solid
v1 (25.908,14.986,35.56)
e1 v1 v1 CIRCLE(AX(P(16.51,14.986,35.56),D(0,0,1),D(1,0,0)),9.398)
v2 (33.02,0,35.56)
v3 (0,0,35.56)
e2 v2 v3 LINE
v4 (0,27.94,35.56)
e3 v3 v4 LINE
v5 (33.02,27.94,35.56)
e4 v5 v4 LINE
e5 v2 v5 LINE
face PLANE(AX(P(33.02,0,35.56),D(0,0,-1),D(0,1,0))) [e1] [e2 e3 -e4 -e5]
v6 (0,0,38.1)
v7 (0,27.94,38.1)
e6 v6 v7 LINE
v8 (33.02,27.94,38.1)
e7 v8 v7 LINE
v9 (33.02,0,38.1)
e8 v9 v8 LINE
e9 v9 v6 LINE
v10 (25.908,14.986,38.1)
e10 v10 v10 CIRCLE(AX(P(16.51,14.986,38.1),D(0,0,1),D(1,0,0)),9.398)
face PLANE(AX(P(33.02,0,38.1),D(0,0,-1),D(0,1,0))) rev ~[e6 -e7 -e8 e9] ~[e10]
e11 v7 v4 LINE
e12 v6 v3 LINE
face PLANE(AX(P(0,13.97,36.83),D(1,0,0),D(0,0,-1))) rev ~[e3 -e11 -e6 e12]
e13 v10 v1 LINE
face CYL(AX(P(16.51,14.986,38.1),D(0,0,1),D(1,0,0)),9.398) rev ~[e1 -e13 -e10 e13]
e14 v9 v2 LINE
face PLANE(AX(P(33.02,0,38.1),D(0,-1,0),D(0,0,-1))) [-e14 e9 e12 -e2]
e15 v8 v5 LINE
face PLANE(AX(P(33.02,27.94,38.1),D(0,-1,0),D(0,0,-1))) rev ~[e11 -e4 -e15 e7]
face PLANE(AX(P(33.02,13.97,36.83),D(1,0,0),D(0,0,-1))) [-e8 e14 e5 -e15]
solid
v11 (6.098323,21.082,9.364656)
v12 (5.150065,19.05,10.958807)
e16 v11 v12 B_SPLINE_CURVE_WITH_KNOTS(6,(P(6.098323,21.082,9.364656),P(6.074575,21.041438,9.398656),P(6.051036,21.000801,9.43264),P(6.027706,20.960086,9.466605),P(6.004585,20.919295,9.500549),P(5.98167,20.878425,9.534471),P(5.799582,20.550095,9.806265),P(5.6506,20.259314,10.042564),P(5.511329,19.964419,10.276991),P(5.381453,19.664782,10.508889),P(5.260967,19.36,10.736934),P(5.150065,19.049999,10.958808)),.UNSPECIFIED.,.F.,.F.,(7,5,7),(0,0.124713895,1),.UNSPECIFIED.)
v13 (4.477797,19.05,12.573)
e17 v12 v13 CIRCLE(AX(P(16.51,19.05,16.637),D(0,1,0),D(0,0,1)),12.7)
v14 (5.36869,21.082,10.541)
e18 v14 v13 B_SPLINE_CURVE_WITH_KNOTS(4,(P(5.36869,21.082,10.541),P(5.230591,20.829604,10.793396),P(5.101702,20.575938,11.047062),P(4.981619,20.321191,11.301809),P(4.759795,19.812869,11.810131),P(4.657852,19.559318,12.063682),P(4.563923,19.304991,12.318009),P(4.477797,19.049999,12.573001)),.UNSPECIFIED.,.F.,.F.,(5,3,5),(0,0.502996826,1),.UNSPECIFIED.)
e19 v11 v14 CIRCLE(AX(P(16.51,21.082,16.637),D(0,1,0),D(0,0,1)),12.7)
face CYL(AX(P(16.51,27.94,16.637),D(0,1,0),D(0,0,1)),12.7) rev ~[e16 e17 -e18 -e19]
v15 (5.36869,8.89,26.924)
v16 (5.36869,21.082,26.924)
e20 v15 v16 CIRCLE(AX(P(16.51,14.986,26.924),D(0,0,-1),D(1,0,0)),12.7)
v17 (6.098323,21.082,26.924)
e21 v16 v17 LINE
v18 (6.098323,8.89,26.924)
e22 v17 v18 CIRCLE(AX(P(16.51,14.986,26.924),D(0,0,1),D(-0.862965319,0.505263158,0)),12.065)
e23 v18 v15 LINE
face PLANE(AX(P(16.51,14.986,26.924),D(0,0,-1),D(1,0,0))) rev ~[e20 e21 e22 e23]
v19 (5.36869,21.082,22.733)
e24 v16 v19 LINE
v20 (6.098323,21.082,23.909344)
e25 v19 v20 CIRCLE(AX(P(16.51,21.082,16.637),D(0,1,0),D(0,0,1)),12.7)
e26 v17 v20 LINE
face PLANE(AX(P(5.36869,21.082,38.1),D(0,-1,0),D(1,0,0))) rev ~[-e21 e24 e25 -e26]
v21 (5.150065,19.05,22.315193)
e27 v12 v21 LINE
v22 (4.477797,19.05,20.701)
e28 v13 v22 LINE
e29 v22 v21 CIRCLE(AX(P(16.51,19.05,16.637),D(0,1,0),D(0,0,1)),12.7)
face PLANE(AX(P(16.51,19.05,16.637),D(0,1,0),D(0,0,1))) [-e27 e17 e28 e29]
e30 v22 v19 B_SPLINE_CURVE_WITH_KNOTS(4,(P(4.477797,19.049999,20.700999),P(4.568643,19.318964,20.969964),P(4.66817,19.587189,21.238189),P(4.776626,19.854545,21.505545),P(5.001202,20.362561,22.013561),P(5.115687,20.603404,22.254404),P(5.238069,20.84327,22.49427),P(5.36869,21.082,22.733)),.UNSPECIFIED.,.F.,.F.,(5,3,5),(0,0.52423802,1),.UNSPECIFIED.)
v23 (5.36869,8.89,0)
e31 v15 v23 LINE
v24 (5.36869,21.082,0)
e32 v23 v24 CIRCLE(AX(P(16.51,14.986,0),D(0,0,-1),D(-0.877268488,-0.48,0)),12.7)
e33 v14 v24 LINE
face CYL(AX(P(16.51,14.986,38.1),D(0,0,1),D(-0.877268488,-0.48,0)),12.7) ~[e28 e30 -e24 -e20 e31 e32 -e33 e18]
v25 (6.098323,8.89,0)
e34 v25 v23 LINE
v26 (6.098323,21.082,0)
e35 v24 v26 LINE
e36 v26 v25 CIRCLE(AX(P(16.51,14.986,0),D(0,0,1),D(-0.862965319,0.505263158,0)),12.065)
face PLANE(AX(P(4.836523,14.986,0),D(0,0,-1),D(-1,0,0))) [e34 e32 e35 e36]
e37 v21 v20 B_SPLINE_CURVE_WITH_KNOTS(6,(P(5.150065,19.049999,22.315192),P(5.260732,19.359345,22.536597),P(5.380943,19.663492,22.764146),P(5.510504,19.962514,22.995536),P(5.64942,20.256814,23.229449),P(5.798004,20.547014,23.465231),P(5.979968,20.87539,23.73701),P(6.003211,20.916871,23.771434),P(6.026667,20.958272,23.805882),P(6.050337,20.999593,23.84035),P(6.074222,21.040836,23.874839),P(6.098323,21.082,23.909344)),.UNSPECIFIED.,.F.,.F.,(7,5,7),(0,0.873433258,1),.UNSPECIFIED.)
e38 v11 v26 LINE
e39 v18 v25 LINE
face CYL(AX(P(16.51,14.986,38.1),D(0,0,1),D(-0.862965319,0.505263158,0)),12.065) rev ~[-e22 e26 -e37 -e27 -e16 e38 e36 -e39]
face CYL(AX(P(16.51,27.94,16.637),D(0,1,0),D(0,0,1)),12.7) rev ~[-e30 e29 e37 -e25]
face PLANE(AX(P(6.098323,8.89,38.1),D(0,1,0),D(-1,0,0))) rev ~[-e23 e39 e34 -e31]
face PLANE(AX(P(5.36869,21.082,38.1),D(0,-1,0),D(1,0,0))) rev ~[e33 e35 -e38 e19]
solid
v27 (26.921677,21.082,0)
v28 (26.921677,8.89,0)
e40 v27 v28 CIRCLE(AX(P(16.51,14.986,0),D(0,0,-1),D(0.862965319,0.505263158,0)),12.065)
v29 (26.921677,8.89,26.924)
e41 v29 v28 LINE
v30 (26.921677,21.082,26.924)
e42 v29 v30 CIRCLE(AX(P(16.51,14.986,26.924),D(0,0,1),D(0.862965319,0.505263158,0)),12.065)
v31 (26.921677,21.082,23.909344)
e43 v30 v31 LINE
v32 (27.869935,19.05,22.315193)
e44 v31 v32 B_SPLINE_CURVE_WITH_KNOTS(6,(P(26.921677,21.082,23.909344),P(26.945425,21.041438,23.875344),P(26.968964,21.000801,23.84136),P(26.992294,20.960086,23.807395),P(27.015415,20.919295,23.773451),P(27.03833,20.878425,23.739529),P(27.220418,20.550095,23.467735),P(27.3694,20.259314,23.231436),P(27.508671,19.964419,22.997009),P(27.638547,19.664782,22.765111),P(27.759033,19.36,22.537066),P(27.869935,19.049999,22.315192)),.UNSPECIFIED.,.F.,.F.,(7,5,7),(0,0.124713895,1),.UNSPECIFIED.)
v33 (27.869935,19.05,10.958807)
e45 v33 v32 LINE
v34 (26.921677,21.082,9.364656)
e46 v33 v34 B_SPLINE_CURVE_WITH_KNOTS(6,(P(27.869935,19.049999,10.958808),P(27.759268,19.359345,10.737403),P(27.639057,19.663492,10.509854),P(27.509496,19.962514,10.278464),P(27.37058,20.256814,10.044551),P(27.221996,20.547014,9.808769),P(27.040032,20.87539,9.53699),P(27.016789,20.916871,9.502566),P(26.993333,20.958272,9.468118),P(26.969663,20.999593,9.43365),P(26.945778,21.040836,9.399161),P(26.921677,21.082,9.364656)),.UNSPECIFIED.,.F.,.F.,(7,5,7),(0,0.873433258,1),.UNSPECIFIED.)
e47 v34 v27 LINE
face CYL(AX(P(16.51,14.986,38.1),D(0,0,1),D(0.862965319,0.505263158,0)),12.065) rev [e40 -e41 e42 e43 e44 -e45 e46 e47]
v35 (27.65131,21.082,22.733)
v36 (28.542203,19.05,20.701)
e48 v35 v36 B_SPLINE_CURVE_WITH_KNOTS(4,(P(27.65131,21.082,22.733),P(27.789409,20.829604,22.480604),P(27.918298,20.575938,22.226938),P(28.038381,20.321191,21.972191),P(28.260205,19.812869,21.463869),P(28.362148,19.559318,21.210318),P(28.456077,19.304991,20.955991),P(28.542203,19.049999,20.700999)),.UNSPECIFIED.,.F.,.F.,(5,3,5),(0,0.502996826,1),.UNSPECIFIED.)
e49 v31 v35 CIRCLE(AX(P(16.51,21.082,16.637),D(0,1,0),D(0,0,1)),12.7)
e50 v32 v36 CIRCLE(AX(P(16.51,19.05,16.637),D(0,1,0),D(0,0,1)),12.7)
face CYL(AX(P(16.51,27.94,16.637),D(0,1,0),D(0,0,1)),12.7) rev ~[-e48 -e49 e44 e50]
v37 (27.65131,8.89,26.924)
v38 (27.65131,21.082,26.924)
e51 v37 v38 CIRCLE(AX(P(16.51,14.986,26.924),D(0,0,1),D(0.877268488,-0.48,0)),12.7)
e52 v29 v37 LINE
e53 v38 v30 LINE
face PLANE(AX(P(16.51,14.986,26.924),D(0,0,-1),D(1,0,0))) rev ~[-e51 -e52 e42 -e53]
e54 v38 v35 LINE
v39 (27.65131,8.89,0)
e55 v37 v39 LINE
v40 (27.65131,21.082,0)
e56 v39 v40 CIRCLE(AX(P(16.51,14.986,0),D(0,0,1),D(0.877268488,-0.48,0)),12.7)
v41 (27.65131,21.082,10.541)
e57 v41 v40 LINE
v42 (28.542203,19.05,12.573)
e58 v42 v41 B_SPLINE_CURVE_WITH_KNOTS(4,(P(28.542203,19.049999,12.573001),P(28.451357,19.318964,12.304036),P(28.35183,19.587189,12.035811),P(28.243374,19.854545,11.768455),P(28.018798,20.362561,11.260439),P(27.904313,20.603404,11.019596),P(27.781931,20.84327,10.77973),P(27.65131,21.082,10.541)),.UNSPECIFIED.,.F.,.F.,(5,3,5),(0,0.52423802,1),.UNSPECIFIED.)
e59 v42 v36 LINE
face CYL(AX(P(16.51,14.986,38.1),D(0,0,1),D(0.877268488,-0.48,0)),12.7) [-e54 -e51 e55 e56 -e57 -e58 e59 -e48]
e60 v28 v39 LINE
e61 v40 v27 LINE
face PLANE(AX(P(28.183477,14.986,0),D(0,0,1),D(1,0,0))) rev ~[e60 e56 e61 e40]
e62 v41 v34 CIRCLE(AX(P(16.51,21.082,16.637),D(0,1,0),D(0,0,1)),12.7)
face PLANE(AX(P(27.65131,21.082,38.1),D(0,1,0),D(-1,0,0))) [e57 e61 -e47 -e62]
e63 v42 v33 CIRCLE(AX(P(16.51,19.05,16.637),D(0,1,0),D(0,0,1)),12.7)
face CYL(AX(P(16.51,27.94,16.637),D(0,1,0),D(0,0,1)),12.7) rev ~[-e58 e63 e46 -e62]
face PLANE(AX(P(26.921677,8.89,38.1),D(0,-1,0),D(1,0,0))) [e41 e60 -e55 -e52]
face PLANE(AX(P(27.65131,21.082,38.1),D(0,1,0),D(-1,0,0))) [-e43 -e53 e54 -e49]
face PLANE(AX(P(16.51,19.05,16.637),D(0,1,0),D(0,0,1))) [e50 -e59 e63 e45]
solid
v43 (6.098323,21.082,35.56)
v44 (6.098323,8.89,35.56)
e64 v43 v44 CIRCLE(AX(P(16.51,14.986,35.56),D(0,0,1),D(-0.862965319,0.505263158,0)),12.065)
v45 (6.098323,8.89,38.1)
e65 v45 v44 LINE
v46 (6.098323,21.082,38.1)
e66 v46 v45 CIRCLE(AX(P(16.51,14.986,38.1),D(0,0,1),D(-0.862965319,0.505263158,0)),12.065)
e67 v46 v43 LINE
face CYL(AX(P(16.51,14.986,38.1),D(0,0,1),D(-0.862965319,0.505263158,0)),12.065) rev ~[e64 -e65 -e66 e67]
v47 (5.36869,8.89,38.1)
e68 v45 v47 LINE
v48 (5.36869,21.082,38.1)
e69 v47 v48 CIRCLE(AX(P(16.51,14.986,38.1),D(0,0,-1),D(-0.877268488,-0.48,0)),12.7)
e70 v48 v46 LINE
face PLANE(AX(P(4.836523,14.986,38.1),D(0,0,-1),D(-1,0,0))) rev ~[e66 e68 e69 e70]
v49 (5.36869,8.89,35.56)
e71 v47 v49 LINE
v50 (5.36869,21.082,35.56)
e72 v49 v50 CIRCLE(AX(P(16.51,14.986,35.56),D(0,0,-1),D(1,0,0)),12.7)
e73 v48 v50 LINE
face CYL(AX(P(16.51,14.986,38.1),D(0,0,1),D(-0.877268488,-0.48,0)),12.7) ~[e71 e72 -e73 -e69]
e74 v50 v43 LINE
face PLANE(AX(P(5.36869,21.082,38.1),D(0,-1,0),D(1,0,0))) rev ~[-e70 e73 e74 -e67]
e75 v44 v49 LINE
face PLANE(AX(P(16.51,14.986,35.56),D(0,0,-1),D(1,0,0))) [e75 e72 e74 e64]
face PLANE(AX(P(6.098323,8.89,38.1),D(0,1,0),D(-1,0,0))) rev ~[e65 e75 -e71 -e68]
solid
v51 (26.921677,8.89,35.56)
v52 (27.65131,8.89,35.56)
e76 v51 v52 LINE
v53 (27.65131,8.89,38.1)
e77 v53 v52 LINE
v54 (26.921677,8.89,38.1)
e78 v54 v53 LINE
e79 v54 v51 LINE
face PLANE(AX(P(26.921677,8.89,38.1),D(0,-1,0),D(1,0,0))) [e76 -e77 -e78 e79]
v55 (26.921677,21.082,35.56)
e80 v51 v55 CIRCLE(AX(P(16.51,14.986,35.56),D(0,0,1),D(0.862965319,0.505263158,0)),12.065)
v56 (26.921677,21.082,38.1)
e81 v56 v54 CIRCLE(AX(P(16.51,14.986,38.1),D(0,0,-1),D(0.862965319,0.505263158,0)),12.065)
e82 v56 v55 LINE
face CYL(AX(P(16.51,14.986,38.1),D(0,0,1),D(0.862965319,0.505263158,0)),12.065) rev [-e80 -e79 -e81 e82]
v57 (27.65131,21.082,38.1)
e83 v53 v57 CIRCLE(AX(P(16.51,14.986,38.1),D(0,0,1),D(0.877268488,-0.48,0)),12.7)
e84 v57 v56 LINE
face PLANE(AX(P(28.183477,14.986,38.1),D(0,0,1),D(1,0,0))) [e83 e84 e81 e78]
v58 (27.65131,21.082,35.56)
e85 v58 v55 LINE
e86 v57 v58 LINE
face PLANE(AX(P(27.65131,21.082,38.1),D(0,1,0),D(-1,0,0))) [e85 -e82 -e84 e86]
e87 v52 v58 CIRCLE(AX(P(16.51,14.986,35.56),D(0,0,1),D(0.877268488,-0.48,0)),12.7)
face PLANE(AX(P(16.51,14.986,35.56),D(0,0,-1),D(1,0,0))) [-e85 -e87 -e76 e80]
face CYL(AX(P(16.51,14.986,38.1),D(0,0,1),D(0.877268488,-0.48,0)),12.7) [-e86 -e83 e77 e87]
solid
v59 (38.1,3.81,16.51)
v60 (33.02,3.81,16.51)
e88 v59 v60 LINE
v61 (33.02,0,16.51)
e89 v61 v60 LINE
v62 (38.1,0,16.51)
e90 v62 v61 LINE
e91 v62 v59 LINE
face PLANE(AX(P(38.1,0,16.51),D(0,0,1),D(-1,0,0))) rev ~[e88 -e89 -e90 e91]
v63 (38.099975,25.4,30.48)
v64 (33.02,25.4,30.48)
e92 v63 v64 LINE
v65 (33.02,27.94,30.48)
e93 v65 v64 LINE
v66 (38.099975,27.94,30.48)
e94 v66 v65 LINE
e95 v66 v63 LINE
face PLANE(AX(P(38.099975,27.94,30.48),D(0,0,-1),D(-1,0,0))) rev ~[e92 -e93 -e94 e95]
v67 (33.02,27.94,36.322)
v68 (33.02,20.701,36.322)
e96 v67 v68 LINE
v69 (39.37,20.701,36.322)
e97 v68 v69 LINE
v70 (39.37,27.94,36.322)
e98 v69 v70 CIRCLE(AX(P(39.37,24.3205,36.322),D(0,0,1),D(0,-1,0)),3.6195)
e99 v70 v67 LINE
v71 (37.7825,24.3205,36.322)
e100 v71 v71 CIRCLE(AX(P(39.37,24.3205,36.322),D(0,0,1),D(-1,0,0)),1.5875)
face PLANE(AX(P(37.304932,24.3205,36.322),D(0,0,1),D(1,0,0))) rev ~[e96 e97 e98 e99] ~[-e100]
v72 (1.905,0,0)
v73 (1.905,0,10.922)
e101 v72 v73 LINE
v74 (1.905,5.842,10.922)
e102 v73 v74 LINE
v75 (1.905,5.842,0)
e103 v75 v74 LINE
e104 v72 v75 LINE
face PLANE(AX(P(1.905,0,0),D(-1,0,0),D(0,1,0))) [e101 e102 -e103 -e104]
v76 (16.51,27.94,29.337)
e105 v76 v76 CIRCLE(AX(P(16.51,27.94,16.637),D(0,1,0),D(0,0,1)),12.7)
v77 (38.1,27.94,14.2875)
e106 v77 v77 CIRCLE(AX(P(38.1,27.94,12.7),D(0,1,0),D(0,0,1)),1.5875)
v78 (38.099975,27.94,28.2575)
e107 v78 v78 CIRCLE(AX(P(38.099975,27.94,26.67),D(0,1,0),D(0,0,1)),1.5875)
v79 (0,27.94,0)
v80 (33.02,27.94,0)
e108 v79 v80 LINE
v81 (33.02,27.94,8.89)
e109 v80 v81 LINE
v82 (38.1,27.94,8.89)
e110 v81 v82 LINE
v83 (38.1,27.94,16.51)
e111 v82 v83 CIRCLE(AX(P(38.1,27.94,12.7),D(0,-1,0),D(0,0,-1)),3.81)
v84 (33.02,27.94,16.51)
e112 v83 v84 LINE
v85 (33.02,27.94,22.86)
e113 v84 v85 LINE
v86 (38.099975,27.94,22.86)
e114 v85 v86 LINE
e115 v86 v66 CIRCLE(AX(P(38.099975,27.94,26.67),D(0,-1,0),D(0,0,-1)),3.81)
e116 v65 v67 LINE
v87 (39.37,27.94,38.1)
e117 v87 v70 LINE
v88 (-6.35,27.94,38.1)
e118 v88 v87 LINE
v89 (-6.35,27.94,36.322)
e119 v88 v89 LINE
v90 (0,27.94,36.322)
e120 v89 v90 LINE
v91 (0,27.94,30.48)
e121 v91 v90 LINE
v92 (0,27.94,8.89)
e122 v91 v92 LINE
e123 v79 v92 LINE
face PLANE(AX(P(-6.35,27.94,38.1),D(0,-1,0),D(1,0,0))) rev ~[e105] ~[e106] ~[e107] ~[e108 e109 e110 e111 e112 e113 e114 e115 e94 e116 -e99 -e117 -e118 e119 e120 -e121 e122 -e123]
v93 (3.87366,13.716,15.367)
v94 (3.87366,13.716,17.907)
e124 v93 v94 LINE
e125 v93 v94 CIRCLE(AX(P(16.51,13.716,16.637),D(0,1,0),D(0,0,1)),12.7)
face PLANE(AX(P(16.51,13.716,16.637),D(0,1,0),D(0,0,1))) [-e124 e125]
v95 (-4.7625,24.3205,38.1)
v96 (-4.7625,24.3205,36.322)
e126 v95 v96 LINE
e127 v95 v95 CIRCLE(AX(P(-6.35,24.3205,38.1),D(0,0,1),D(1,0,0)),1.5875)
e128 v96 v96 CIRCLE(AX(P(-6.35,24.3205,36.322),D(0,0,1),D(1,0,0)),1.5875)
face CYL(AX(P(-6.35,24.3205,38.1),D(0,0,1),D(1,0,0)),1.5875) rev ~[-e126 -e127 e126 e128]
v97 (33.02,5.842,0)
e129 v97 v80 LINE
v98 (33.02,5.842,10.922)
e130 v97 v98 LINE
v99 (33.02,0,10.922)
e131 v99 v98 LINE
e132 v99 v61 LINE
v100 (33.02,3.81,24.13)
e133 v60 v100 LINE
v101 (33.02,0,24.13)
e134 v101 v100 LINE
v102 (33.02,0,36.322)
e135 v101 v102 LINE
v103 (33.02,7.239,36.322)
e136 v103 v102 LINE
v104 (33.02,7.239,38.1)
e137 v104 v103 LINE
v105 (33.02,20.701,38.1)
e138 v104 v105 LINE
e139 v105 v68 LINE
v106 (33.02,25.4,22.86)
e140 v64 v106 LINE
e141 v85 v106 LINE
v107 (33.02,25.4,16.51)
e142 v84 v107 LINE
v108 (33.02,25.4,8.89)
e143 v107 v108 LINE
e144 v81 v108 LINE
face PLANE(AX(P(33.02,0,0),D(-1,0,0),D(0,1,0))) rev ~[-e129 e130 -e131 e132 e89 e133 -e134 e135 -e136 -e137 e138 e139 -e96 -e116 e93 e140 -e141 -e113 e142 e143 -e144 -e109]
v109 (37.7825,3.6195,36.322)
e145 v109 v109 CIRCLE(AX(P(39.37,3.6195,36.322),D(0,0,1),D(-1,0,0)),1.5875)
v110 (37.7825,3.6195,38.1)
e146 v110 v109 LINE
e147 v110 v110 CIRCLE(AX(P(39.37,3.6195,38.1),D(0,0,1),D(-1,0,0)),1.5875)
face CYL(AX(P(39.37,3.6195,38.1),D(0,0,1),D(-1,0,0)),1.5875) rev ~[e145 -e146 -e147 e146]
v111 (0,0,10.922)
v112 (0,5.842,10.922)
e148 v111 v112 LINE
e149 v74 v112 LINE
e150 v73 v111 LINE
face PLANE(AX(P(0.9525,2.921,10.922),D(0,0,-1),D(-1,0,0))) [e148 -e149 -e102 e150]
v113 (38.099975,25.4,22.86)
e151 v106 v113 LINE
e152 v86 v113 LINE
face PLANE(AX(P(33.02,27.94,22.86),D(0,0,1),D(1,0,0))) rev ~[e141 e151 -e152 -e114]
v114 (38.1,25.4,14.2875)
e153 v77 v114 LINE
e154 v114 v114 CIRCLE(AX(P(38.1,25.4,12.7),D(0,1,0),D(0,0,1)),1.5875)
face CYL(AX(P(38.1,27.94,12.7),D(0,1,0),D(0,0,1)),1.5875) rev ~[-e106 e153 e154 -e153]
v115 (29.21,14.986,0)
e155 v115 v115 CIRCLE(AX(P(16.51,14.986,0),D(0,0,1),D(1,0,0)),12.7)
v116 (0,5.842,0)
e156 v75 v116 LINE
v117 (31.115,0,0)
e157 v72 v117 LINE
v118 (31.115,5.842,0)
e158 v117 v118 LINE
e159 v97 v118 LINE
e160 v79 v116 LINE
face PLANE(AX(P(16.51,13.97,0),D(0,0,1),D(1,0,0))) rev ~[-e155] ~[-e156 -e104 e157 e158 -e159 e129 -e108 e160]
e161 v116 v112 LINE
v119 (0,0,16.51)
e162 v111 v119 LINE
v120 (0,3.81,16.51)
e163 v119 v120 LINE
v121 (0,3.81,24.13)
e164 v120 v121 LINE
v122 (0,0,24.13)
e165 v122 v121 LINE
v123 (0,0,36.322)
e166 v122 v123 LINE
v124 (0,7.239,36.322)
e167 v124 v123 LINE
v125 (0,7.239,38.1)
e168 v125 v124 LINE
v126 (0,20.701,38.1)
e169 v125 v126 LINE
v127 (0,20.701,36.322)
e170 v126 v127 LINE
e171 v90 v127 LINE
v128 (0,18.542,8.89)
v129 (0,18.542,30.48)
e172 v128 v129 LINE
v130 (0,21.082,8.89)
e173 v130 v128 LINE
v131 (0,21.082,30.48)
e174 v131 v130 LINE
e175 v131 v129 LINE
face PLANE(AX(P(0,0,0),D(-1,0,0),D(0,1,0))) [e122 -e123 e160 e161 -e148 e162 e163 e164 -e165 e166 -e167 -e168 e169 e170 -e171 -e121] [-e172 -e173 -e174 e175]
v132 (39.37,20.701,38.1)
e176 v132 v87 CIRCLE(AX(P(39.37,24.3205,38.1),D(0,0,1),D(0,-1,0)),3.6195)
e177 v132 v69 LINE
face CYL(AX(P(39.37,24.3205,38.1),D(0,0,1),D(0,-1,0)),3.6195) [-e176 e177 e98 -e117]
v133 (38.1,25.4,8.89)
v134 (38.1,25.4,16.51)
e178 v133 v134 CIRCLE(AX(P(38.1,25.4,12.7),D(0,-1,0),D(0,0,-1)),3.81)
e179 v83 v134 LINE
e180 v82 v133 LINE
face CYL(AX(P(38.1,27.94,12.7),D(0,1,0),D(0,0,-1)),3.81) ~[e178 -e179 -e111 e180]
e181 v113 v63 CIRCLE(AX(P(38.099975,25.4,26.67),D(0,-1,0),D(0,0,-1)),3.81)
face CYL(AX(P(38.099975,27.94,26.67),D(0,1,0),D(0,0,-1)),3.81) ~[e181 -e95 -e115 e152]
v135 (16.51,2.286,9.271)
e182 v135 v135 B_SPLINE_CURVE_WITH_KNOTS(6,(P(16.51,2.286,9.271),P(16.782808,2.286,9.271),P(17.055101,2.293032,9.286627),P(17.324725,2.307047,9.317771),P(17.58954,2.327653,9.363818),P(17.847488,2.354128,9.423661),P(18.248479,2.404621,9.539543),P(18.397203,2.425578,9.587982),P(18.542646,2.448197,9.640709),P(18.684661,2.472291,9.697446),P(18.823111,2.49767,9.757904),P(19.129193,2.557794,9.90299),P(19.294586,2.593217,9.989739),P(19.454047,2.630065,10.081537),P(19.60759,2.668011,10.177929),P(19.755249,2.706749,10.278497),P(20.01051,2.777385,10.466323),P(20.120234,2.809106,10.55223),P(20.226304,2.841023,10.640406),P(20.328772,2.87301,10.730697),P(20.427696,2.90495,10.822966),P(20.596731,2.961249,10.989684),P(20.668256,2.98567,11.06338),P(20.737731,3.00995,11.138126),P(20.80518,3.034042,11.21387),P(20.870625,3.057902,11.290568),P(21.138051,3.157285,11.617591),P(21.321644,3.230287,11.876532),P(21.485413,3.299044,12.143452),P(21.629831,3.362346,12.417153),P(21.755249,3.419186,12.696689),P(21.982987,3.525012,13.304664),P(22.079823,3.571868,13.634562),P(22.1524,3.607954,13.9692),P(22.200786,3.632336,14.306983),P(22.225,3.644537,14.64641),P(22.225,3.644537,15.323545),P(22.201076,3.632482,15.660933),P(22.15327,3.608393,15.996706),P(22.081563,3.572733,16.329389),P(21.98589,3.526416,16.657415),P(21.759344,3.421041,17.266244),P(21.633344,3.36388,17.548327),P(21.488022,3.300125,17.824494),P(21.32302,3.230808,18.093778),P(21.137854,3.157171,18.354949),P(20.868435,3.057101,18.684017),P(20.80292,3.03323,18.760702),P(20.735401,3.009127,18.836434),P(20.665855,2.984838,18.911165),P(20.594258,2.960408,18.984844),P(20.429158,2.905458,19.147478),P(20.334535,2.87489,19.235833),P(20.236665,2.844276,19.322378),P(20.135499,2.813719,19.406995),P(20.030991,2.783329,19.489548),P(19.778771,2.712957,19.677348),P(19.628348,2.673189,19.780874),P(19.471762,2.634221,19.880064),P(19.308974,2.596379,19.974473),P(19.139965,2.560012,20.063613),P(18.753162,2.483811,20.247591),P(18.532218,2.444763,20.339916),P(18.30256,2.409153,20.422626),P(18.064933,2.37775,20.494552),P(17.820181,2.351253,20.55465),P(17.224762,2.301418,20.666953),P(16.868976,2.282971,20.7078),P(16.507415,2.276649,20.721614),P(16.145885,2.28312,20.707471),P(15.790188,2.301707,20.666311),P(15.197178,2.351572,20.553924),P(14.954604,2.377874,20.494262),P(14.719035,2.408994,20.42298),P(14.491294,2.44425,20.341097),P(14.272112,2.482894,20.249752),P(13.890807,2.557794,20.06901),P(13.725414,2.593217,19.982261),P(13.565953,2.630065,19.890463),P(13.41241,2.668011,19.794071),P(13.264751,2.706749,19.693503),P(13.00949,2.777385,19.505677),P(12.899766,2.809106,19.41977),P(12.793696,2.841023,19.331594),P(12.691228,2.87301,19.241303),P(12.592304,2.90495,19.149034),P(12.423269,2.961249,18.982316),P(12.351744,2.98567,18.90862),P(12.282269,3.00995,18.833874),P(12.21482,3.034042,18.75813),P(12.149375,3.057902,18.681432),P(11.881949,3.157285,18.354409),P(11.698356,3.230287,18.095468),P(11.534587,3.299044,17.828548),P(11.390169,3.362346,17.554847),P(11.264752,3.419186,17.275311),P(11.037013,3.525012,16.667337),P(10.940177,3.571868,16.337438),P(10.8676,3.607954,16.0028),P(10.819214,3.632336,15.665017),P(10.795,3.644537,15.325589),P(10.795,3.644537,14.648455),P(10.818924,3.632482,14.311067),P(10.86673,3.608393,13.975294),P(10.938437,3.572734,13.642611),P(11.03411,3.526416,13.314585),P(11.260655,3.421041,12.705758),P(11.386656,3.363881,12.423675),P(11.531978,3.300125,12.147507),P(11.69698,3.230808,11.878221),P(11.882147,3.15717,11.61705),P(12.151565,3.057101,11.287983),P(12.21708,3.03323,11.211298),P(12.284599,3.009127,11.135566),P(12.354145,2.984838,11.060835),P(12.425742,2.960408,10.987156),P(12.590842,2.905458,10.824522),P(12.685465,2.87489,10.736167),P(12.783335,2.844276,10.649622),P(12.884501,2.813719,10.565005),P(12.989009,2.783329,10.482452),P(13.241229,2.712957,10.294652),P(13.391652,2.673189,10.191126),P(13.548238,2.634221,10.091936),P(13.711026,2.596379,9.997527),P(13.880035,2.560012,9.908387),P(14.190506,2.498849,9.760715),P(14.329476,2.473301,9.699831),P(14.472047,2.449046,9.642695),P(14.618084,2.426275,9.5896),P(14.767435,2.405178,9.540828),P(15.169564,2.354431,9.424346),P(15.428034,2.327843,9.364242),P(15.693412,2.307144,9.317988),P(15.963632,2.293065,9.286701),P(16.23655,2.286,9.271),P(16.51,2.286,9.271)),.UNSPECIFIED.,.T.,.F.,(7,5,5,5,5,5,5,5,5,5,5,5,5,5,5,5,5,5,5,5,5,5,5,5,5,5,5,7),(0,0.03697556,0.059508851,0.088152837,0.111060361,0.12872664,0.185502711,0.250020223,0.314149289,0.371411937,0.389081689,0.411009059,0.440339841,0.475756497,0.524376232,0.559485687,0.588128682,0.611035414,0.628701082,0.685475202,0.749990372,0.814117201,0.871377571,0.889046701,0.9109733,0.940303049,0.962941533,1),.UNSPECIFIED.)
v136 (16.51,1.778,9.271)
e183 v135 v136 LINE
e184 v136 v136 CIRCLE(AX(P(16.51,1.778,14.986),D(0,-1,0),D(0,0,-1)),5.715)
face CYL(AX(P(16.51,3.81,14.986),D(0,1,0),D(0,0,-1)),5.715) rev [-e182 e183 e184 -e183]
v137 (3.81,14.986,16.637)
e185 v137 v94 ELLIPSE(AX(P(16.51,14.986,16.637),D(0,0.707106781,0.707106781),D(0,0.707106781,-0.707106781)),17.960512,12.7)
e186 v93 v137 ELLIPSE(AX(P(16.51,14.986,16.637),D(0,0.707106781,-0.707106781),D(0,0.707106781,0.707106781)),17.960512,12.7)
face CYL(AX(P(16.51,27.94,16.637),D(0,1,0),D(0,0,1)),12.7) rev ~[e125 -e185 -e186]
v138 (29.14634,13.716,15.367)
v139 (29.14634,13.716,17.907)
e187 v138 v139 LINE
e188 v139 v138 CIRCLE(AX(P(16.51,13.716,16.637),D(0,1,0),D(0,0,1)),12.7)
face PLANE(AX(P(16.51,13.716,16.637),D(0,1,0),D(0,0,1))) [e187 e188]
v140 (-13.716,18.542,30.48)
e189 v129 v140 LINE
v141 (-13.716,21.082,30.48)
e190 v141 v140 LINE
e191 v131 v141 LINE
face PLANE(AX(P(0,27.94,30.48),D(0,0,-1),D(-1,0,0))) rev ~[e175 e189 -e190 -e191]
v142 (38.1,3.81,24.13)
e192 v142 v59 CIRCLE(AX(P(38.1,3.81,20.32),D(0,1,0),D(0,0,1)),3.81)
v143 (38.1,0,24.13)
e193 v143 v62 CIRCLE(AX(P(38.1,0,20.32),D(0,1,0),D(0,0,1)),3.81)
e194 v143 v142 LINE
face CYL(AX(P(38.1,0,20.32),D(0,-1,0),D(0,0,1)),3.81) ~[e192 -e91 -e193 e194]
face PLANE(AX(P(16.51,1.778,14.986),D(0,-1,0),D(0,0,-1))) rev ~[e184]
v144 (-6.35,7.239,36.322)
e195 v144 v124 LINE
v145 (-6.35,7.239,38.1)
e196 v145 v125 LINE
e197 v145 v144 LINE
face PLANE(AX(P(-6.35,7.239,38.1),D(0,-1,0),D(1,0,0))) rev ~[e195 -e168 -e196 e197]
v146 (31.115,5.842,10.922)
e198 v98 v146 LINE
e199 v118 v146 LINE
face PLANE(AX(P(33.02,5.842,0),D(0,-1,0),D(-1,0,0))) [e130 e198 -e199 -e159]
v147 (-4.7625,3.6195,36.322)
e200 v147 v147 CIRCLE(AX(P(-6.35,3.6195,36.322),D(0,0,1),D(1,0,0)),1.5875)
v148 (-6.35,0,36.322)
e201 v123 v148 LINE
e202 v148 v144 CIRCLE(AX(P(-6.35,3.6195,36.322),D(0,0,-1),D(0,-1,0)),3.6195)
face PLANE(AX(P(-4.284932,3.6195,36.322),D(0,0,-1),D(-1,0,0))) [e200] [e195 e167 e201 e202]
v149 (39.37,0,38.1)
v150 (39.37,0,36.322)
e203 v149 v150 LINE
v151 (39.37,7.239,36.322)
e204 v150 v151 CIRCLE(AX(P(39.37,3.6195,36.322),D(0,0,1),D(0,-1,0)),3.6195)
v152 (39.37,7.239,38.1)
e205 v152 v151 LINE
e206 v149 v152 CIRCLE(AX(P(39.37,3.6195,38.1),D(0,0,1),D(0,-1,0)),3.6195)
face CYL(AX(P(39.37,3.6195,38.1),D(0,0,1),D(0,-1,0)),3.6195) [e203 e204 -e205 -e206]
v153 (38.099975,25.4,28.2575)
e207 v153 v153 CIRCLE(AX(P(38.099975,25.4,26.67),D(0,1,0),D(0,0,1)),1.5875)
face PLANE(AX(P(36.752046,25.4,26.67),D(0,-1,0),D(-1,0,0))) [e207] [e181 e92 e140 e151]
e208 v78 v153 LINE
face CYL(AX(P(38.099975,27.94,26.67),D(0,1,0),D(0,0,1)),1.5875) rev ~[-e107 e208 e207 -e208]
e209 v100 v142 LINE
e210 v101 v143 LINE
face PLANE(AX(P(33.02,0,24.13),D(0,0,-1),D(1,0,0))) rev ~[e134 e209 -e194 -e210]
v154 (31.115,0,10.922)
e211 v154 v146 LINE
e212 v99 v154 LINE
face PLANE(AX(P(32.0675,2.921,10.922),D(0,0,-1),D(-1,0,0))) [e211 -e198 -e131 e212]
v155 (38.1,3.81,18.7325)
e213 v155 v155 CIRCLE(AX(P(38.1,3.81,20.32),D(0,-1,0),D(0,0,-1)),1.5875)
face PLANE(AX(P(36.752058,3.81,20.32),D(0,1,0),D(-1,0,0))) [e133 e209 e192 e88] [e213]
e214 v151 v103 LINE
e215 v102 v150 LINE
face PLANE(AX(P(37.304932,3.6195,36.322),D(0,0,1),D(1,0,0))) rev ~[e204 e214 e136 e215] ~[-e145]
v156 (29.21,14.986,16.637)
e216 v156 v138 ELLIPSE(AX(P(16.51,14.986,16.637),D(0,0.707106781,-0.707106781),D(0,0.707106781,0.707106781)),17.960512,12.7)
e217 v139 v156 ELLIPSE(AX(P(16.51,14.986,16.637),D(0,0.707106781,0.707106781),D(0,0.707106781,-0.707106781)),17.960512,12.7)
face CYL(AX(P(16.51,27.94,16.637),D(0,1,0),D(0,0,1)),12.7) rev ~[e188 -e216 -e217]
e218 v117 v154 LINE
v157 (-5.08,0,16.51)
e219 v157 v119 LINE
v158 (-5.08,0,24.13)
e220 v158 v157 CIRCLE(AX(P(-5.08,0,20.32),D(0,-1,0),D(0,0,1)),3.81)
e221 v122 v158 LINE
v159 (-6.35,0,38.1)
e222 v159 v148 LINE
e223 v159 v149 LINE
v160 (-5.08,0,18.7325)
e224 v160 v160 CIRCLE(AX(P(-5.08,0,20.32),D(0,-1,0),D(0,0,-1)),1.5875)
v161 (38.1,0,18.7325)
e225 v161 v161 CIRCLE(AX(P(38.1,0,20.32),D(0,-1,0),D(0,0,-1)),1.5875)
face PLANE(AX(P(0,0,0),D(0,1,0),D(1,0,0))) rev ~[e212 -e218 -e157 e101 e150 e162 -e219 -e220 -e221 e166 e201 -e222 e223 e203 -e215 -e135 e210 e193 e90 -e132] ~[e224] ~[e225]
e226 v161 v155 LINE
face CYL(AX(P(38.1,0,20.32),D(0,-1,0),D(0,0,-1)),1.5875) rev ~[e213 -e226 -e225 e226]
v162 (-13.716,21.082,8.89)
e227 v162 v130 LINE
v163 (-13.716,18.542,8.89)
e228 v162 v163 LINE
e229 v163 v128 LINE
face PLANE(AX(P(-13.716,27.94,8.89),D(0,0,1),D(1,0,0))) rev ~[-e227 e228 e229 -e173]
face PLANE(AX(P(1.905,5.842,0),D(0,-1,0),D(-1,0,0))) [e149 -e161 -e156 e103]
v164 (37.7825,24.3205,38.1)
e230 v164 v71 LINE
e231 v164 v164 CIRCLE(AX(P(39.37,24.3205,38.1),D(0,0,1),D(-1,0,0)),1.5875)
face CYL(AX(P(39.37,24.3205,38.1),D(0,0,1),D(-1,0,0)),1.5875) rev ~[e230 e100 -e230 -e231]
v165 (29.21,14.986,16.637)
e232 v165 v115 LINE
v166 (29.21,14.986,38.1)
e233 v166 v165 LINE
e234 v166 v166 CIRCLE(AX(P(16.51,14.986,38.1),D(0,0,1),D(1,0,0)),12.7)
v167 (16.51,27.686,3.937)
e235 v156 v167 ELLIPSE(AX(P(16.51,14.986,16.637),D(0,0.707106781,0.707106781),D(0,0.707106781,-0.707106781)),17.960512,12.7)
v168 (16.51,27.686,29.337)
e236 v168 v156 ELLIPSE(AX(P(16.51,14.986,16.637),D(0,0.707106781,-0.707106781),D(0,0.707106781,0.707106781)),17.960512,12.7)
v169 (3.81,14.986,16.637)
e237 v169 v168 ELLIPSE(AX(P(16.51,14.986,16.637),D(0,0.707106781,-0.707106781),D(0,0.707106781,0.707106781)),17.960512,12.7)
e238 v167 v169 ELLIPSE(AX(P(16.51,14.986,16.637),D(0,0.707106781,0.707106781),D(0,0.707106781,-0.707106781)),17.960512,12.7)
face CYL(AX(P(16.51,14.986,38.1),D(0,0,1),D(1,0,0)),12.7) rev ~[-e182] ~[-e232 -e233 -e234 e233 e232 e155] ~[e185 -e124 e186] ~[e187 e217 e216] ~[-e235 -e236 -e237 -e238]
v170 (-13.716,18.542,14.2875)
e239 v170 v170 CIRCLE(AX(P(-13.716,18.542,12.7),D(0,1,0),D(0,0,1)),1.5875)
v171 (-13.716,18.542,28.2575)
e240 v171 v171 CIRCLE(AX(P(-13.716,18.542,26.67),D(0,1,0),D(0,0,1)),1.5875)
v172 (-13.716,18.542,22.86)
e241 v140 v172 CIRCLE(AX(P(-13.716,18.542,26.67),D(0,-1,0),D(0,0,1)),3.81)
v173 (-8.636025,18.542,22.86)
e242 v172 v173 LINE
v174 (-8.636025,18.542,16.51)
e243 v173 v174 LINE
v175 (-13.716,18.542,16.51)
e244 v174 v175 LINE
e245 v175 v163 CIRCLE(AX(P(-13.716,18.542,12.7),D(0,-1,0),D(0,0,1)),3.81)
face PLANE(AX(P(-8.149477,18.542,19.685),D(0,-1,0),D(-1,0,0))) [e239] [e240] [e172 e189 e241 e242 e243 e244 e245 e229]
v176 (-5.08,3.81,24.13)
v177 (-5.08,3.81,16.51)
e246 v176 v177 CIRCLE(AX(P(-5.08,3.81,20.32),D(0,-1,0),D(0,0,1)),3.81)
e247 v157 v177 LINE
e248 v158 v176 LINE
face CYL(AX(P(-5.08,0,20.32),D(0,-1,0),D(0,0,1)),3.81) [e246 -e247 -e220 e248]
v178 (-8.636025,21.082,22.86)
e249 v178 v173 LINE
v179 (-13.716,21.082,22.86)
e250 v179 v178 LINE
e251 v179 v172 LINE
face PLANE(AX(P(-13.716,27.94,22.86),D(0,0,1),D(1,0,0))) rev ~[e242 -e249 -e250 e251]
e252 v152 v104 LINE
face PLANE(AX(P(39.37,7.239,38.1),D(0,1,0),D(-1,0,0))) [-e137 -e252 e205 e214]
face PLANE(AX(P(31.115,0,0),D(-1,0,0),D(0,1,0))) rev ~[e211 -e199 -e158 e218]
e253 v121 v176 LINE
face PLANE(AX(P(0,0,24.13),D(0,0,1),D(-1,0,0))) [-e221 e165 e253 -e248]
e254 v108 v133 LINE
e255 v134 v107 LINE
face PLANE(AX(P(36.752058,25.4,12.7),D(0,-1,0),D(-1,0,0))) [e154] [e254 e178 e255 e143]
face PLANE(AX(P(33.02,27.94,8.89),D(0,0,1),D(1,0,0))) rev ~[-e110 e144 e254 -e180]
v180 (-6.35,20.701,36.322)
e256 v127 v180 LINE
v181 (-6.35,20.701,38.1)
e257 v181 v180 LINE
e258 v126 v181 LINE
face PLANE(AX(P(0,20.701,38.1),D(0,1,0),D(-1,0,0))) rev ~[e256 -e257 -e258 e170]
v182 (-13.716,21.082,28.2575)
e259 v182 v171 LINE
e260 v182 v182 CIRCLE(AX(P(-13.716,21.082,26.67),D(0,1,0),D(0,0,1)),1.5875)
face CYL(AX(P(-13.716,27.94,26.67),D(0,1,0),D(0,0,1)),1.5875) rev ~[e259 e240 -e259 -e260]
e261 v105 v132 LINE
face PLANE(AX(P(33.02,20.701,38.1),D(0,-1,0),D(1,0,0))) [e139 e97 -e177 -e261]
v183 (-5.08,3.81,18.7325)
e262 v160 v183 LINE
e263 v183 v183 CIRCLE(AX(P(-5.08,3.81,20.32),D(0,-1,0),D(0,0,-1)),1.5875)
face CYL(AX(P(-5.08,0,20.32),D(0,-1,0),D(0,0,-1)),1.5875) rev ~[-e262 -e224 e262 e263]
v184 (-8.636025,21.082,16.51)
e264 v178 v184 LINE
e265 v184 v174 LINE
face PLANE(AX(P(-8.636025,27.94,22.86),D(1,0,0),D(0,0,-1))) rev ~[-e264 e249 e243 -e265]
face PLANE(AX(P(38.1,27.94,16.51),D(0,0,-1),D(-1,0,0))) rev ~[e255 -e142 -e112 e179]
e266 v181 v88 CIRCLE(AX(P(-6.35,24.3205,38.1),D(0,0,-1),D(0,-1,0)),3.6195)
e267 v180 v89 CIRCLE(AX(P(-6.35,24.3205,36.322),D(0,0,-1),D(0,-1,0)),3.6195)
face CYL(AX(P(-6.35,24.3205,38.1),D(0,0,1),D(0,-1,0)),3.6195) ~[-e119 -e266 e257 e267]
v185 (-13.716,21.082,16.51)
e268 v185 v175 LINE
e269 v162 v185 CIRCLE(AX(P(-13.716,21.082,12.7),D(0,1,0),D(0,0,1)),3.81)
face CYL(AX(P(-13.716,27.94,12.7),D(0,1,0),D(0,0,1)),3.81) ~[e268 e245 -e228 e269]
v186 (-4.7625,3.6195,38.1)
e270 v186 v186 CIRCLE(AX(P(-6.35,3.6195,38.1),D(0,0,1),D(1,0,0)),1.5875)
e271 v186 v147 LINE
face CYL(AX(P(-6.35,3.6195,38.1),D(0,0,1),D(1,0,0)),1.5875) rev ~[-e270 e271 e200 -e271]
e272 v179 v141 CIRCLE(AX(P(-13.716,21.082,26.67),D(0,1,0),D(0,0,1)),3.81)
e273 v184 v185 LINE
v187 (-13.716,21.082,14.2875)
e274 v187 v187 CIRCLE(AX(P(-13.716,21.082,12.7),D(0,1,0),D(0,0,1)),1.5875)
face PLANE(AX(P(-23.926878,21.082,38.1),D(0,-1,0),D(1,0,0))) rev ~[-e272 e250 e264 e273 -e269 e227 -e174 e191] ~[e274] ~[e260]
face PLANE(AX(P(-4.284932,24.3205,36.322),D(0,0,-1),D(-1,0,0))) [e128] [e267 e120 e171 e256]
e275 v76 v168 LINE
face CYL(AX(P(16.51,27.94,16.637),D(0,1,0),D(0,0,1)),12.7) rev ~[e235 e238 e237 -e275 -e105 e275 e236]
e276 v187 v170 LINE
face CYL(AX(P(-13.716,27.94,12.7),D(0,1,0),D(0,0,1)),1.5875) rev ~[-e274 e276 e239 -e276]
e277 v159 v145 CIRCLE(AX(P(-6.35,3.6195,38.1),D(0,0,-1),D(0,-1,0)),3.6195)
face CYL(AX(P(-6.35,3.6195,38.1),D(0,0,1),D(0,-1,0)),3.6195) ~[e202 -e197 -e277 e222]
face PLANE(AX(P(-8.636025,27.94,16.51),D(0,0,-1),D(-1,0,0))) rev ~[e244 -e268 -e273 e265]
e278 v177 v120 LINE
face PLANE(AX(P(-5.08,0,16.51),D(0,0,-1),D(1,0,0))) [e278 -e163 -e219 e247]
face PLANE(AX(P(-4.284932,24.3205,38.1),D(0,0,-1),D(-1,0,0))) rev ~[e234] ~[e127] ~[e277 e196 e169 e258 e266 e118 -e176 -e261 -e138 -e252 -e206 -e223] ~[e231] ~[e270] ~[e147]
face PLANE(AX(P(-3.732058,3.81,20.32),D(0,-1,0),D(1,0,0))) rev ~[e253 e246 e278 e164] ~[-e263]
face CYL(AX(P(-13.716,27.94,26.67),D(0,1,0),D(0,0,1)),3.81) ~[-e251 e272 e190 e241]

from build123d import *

# Parameters (mm, degrees)
SKETCH1_W             = 33.02
SKETCH1_H             = 27.94
BOSS_EXTRUDE1_DEPTH   = 38.1
SKETCH4_R             = 12.7
CUT_EXTRUDE3_DEPTH    = 14.224
SKETCH3_R             = 5.715
CUT_EXTRUDE4_DEPTH    = 2.032
SKETCH7_R             = 1.5875
BOSS_EXTRUDE2_DEPTH   = 2.54
SKETCH9_R             = 1.5875
BOSS_EXTRUDE4_DEPTH   = 9.398
SKETCH11_W            = 23.926877617
SKETCH11_H            = 6.858
CUT_EXTRUDE7_DEPTH    = 64.156168968
SKETCH12_W            = 1.905
SKETCH12_H            = 5.842
CUT_EXTRUDE8_DEPTH    = 10.922
SKETCH2_R             = 12.7
CUT_EXTRUDE12_DEPTH   = 64.156168968
BOSS_EXTRUDE8_DEPTH   = 38.1
BOSS_EXTRUDE8_2_DEPTH = 38.1
SKETCH15_R            = 1.5875
BOSS_EXTRUDE9_DEPTH   = 3.81
SKETCH16_R            = 1.5875
BOSS_EXTRUDE10_DEPTH  = 1.778
SKETCH17_R            = 12.7
CUT_EXTRUDE13_DEPTH   = 8.89
SKETCH22_W            = 2.54
SKETCH22_H            = 27.94
BOSS_EXTRUDE24_DEPTH  = 33.02
SKETCH23_R            = 9.398
CUT_EXTRUDE14_DEPTH   = 8.636
SKETCH24_R            = 12.7
CUT_EXTRUDE15_DEPTH   = 8.636


with BuildPart() as part:
    # Sketch1 → Boss-Extrude1 (new body)
    with BuildSketch(Plane.XY):
        with Locations((16.51, 13.97)):
            Rectangle(SKETCH1_W, SKETCH1_H)
    extrude(amount=BOSS_EXTRUDE1_DEPTH)

    # Sketch4 → Cut-Extrude3 (cut)
    with BuildSketch(Plane(origin=(0, 27.94, 0), x_dir=(1, 0, 0), z_dir=(0, 1, 0))):
        with Locations(Location((16.51, -16.637, 0), (0, 0, 270))):
            Circle(SKETCH4_R)
    extrude(amount=-CUT_EXTRUDE3_DEPTH, mode=Mode.SUBTRACT)

    # Sketch3 → Cut-Extrude4 (cut)
    with BuildSketch(Plane(origin=(0, 3.81, 0), x_dir=(-1, 0, 0), z_dir=(0, -1, 0))):
        with Locations(Location((-16.51, -14.986, 0), (0, 0, 90))):
            Circle(SKETCH3_R)
    extrude(amount=CUT_EXTRUDE4_DEPTH, mode=Mode.SUBTRACT)

    # Sketch7 → Boss-Extrude2 (add)
    # profile 1 of 2: a face of its own
    with BuildSketch(Plane(origin=(0, 27.94, 0), x_dir=(1, 0, 0), z_dir=(0, 1, 0))):
        with BuildLine():
            Line((33.02, -8.89), (38.099999746, -8.89))
            ThreePointArc((38.099999746, -8.89), (41.909999746, -12.7), (38.099999746, -16.51))
            Line((38.099999746, -16.51), (33.02, -16.51))
            Line((33.02, -16.51), (33.02, -8.89))
        make_face()
        with Locations(Location((38.099999746, -12.7, 0), (0, 0, 270))):
            Circle(SKETCH7_R, mode=Mode.SUBTRACT)
    # profile 2 of 2: a face of its own
    with BuildSketch(Plane(origin=(0, 27.94, 0), x_dir=(1, 0, 0), z_dir=(0, 1, 0))):
        with BuildLine():
            Line((33.02, -22.86), (38.0999746, -22.86))
            ThreePointArc((38.0999746, -22.86), (41.9099746, -26.67), (38.0999746, -30.48))
            Line((38.0999746, -30.48), (33.02, -30.48))
            Line((33.02, -30.48), (33.02, -22.86))
        make_face()
        with Locations(Location((38.0999746, -26.67, 0), (0, 0, 270))):
            Circle(SKETCH7_R, mode=Mode.SUBTRACT)
    extrude(amount=-BOSS_EXTRUDE2_DEPTH)

    # Sketch9 → Boss-Extrude4 (add)
    with BuildSketch(Plane(origin=(0, 27.94, 0), x_dir=(1, 0, 0), z_dir=(0, 1, 0))):
        with BuildLine():
            Line((-13.716, -8.89), (0, -8.89))
            Line((0, -8.89), (0, -30.48))
            Line((0, -30.48), (-13.716, -30.48))
            ThreePointArc((-13.716, -30.48), (-17.526, -26.67), (-13.716, -22.86))
            Line((-13.716, -22.86), (-8.6360254, -22.86))
            Line((-8.6360254, -22.86), (-8.6360254, -16.51))
            Line((-8.6360254, -16.51), (-13.716, -16.51))
            ThreePointArc((-13.716, -16.51), (-17.526, -12.7), (-13.716, -8.89))
        make_face()
        with Locations(Location((-13.716, -26.67, 0), (0, 0, 270))):
            Circle(SKETCH9_R, mode=Mode.SUBTRACT)
        with Locations(Location((-13.716, -12.7, 0), (0, 0, 270))):
            Circle(SKETCH9_R, mode=Mode.SUBTRACT)
    extrude(amount=-BOSS_EXTRUDE4_DEPTH)

    # Sketch11 → Cut-Extrude7 (cut, through all)
    with BuildSketch(Plane.XY.offset(38.1)):
        with Locations((-11.963438809, 24.511)):
            Rectangle(SKETCH11_W, SKETCH11_H)
    extrude(amount=-CUT_EXTRUDE7_DEPTH, mode=Mode.SUBTRACT)

    # Sketch12 → Cut-Extrude8 (cut)
    with BuildSketch(Plane(origin=(0, 0, 0), x_dir=(-1, 0, 0), z_dir=(0, 0, -1))):
        with Locations((-32.0675, 2.921)):
            Rectangle(SKETCH12_W, SKETCH12_H)
        with Locations((-0.9525, 2.921)):
            Rectangle(SKETCH12_W, SKETCH12_H)
    extrude(amount=-CUT_EXTRUDE8_DEPTH, mode=Mode.SUBTRACT)

    # Sketch2 → Cut-Extrude12 (cut, through all)
    with BuildSketch(Plane.XY.offset(38.1)):
        with Locations((16.51, 14.986)):
            Circle(SKETCH2_R)
    extrude(amount=-CUT_EXTRUDE12_DEPTH, mode=Mode.SUBTRACT)

    # Sketch15 → Boss-Extrude9 (add)
    # profile 1 of 2: a face of its own
    with BuildSketch(Plane.XZ):
        with BuildLine():
            Line((0, 24.13), (-5.079999746, 24.13))
            ThreePointArc((-5.079999746, 24.13), (-8.889999746, 20.32), (-5.079999746, 16.51))
            Line((-5.079999746, 16.51), (0, 16.51))
            Line((0, 16.51), (0, 24.13))
        make_face()
        with Locations(Location((-5.079999746, 20.32, 0), (0, 0, 270))):
            Circle(SKETCH15_R, mode=Mode.SUBTRACT)
    # profile 2 of 2: a face of its own
    with BuildSketch(Plane.XZ):
        with BuildLine():
            Line((33.02, 16.51), (33.02, 24.13))
            Line((33.02, 24.13), (38.099999746, 24.13))
            ThreePointArc((38.099999746, 24.13), (41.909999746, 20.32), (38.099999746, 16.51))
            Line((38.099999746, 16.51), (33.02, 16.51))
        make_face()
        with Locations(Location((38.099999746, 20.32, 0), (0, 0, 270))):
            Circle(SKETCH15_R, mode=Mode.SUBTRACT)
    extrude(amount=-BOSS_EXTRUDE9_DEPTH)

    # Sketch16 → Boss-Extrude10 (add)
    # profile 1 of 4: a face of its own
    with BuildSketch(Plane.XY.offset(38.1)):
        with BuildLine():
            Line((-6.35, 27.94), (0, 27.94))
            Line((0, 27.94), (0, 20.701))
            Line((0, 20.701), (-6.35, 20.701))
            ThreePointArc((-6.35, 20.701), (-9.9695, 24.3205), (-6.35, 27.94))
        make_face()
        with Locations((-6.35, 24.3205)):
            Circle(SKETCH16_R, mode=Mode.SUBTRACT)
    # profile 2 of 4: a face of its own
    with BuildSketch(Plane.XY.offset(38.1)):
        with BuildLine():
            Line((-6.35, 7.239), (0, 7.239))
            Line((0, 7.239), (0, 0))
            Line((0, 0), (-6.35, 0))
            ThreePointArc((-6.35, 0), (-9.9695, 3.6195), (-6.35, 7.239))
        make_face()
        with Locations((-6.35, 3.6195)):
            Circle(SKETCH16_R, mode=Mode.SUBTRACT)
    # profile 3 of 4: a face of its own
    with BuildSketch(Plane.XY.offset(38.1)):
        with BuildLine():
            Line((33.02, 0), (39.37, 0))
            ThreePointArc((39.37, 0), (42.9895, 3.6195), (39.37, 7.239))
            Line((39.37, 7.239), (33.02, 7.239))
            Line((33.02, 7.239), (33.02, 0))
        make_face()
        with Locations(Location((39.37, 3.6195, 0), (0, 0, 180))):
            Circle(SKETCH16_R, mode=Mode.SUBTRACT)
    # profile 4 of 4: a face of its own
    with BuildSketch(Plane.XY.offset(38.1)):
        with BuildLine():
            Line((33.02, 20.701), (39.37, 20.701))
            ThreePointArc((39.37, 20.701), (42.9895, 24.3205), (39.37, 27.94))
            Line((39.37, 27.94), (33.02, 27.94))
            Line((33.02, 27.94), (33.02, 20.701))
        make_face()
        with Locations(Location((39.37, 24.3205, 0), (0, 0, 180))):
            Circle(SKETCH16_R, mode=Mode.SUBTRACT)
    extrude(amount=-BOSS_EXTRUDE10_DEPTH)


with BuildPart() as body_2:
    # Sketch14 → Boss-Extrude8 (new, through all)
    with BuildSketch(Plane.XY.offset(38.1)):
        with BuildLine():
            Line((5.368690203, 21.082), (6.09832343, 21.082))
            ThreePointArc((6.09832343, 21.082), (4.445, 14.986), (6.09832343, 8.89))
            Line((6.09832343, 8.89), (5.368690203, 8.89))
            ThreePointArc((5.368690203, 8.89), (3.81, 14.986), (5.368690203, 21.082))
        make_face()
    extrude(amount=-BOSS_EXTRUDE8_DEPTH)


with BuildPart() as body_3:
    # Sketch14 → Boss-Extrude8 2 (new, through all)
    with BuildSketch(Plane.XY.offset(38.1)):
        with BuildLine():
            Line((26.92167657, 8.89), (27.651309797, 8.89))
            ThreePointArc((27.651309797, 8.89), (29.21, 14.986), (27.651309797, 21.082))
            Line((27.651309797, 21.082), (26.92167657, 21.082))
            ThreePointArc((26.92167657, 21.082), (28.575, 14.986), (26.92167657, 8.89))
        make_face()
    extrude(amount=-BOSS_EXTRUDE8_2_DEPTH)


with BuildPart() as cut_extrude13_tool:
    # Sketch17 → Cut-Extrude13 (new body)
    with BuildSketch(Plane(origin=(0, 27.94, 0), x_dir=(1, 0, 0), z_dir=(0, 1, 0))):
        with Locations(Location((16.51, -16.637, 0), (0, 0, 270))):
            Circle(SKETCH17_R)
    extrude(amount=-CUT_EXTRUDE13_DEPTH)


with BuildPart() as body_2_1:
    add(body_2.part)

    # Cut-Extrude13: cut by cut_extrude13_tool
    add(cut_extrude13_tool.part, mode=Mode.SUBTRACT)


with BuildPart() as body_3_1:
    add(body_3.part)

    # Cut-Extrude13: cut by cut_extrude13_tool
    add(cut_extrude13_tool.part, mode=Mode.SUBTRACT)


with BuildPart() as body_4:
    # Sketch22 → Boss-Extrude24 (new body)
    with BuildSketch(Plane(origin=(33.02, 0, 0), x_dir=(0, 0, -1), z_dir=(1, 0, 0))):
        with Locations((-36.83, 13.97)):
            Rectangle(SKETCH22_W, SKETCH22_H)
    extrude(amount=-BOSS_EXTRUDE24_DEPTH)

    # Sketch23 → Cut-Extrude14 (cut)
    with BuildSketch(Plane.XY.offset(38.1)):
        with Locations((16.51, 14.986)):
            Circle(SKETCH23_R)
    extrude(amount=-CUT_EXTRUDE14_DEPTH, mode=Mode.SUBTRACT)


with BuildPart() as cut_extrude15_tool:
    # Sketch24 → Cut-Extrude15 (new body)
    with BuildSketch(Plane(origin=(0, 0, 35.56), x_dir=(-1, 0, 0), z_dir=(0, 0, -1))):
        with Locations(Location((-16.51, 14.986, 0), (0, 0, 180))):
            Circle(SKETCH24_R)
    extrude(amount=CUT_EXTRUDE15_DEPTH)


with BuildPart() as body_2_2:
    add(body_2_1.part)

    # Cut-Extrude15: cut by cut_extrude15_tool
    add(cut_extrude15_tool.part, mode=Mode.SUBTRACT)


with BuildPart() as body_3_2:
    add(body_3_1.part)

    # Cut-Extrude15: cut by cut_extrude15_tool
    add(cut_extrude15_tool.part, mode=Mode.SUBTRACT)


with BuildPart() as cut_extrude15_piece_1:
    # of the separate pieces the step leaves, piece 1, a body of its own (cut_extrude15_pieces)
    add(body_2_2.part.solids().sort_by_distance((6.09832343, 8.89, 26.924))[0])


with BuildPart() as cut_extrude15_piece_2:
    # of the separate pieces the step leaves, piece 2, a body of its own (cut_extrude15_pieces)
    add(body_2_2.part.solids().sort_by_distance((6.09832343, 8.89, 38.1))[0])


with BuildPart() as cut_extrude15_piece_1_of_body_3:
    # of the separate pieces the step leaves, piece 1, a body of its own (cut_extrude15_pieces_of_body_3)
    add(body_3_2.part.solids().sort_by_distance((26.92167657, 8.89, 26.924))[0])


with BuildPart() as cut_extrude15_piece_2_of_body_3:
    # of the separate pieces the step leaves, piece 2, a body of its own (cut_extrude15_pieces_of_body_3)
    add(body_3_2.part.solids().sort_by_distance((26.92167657, 8.89, 38.1))[0])


solid = Compound([part.part, body_4.part, cut_extrude15_piece_1.part, cut_extrude15_piece_2.part, cut_extrude15_piece_1_of_body_3.part, cut_extrude15_piece_2_of_body_3.part])
